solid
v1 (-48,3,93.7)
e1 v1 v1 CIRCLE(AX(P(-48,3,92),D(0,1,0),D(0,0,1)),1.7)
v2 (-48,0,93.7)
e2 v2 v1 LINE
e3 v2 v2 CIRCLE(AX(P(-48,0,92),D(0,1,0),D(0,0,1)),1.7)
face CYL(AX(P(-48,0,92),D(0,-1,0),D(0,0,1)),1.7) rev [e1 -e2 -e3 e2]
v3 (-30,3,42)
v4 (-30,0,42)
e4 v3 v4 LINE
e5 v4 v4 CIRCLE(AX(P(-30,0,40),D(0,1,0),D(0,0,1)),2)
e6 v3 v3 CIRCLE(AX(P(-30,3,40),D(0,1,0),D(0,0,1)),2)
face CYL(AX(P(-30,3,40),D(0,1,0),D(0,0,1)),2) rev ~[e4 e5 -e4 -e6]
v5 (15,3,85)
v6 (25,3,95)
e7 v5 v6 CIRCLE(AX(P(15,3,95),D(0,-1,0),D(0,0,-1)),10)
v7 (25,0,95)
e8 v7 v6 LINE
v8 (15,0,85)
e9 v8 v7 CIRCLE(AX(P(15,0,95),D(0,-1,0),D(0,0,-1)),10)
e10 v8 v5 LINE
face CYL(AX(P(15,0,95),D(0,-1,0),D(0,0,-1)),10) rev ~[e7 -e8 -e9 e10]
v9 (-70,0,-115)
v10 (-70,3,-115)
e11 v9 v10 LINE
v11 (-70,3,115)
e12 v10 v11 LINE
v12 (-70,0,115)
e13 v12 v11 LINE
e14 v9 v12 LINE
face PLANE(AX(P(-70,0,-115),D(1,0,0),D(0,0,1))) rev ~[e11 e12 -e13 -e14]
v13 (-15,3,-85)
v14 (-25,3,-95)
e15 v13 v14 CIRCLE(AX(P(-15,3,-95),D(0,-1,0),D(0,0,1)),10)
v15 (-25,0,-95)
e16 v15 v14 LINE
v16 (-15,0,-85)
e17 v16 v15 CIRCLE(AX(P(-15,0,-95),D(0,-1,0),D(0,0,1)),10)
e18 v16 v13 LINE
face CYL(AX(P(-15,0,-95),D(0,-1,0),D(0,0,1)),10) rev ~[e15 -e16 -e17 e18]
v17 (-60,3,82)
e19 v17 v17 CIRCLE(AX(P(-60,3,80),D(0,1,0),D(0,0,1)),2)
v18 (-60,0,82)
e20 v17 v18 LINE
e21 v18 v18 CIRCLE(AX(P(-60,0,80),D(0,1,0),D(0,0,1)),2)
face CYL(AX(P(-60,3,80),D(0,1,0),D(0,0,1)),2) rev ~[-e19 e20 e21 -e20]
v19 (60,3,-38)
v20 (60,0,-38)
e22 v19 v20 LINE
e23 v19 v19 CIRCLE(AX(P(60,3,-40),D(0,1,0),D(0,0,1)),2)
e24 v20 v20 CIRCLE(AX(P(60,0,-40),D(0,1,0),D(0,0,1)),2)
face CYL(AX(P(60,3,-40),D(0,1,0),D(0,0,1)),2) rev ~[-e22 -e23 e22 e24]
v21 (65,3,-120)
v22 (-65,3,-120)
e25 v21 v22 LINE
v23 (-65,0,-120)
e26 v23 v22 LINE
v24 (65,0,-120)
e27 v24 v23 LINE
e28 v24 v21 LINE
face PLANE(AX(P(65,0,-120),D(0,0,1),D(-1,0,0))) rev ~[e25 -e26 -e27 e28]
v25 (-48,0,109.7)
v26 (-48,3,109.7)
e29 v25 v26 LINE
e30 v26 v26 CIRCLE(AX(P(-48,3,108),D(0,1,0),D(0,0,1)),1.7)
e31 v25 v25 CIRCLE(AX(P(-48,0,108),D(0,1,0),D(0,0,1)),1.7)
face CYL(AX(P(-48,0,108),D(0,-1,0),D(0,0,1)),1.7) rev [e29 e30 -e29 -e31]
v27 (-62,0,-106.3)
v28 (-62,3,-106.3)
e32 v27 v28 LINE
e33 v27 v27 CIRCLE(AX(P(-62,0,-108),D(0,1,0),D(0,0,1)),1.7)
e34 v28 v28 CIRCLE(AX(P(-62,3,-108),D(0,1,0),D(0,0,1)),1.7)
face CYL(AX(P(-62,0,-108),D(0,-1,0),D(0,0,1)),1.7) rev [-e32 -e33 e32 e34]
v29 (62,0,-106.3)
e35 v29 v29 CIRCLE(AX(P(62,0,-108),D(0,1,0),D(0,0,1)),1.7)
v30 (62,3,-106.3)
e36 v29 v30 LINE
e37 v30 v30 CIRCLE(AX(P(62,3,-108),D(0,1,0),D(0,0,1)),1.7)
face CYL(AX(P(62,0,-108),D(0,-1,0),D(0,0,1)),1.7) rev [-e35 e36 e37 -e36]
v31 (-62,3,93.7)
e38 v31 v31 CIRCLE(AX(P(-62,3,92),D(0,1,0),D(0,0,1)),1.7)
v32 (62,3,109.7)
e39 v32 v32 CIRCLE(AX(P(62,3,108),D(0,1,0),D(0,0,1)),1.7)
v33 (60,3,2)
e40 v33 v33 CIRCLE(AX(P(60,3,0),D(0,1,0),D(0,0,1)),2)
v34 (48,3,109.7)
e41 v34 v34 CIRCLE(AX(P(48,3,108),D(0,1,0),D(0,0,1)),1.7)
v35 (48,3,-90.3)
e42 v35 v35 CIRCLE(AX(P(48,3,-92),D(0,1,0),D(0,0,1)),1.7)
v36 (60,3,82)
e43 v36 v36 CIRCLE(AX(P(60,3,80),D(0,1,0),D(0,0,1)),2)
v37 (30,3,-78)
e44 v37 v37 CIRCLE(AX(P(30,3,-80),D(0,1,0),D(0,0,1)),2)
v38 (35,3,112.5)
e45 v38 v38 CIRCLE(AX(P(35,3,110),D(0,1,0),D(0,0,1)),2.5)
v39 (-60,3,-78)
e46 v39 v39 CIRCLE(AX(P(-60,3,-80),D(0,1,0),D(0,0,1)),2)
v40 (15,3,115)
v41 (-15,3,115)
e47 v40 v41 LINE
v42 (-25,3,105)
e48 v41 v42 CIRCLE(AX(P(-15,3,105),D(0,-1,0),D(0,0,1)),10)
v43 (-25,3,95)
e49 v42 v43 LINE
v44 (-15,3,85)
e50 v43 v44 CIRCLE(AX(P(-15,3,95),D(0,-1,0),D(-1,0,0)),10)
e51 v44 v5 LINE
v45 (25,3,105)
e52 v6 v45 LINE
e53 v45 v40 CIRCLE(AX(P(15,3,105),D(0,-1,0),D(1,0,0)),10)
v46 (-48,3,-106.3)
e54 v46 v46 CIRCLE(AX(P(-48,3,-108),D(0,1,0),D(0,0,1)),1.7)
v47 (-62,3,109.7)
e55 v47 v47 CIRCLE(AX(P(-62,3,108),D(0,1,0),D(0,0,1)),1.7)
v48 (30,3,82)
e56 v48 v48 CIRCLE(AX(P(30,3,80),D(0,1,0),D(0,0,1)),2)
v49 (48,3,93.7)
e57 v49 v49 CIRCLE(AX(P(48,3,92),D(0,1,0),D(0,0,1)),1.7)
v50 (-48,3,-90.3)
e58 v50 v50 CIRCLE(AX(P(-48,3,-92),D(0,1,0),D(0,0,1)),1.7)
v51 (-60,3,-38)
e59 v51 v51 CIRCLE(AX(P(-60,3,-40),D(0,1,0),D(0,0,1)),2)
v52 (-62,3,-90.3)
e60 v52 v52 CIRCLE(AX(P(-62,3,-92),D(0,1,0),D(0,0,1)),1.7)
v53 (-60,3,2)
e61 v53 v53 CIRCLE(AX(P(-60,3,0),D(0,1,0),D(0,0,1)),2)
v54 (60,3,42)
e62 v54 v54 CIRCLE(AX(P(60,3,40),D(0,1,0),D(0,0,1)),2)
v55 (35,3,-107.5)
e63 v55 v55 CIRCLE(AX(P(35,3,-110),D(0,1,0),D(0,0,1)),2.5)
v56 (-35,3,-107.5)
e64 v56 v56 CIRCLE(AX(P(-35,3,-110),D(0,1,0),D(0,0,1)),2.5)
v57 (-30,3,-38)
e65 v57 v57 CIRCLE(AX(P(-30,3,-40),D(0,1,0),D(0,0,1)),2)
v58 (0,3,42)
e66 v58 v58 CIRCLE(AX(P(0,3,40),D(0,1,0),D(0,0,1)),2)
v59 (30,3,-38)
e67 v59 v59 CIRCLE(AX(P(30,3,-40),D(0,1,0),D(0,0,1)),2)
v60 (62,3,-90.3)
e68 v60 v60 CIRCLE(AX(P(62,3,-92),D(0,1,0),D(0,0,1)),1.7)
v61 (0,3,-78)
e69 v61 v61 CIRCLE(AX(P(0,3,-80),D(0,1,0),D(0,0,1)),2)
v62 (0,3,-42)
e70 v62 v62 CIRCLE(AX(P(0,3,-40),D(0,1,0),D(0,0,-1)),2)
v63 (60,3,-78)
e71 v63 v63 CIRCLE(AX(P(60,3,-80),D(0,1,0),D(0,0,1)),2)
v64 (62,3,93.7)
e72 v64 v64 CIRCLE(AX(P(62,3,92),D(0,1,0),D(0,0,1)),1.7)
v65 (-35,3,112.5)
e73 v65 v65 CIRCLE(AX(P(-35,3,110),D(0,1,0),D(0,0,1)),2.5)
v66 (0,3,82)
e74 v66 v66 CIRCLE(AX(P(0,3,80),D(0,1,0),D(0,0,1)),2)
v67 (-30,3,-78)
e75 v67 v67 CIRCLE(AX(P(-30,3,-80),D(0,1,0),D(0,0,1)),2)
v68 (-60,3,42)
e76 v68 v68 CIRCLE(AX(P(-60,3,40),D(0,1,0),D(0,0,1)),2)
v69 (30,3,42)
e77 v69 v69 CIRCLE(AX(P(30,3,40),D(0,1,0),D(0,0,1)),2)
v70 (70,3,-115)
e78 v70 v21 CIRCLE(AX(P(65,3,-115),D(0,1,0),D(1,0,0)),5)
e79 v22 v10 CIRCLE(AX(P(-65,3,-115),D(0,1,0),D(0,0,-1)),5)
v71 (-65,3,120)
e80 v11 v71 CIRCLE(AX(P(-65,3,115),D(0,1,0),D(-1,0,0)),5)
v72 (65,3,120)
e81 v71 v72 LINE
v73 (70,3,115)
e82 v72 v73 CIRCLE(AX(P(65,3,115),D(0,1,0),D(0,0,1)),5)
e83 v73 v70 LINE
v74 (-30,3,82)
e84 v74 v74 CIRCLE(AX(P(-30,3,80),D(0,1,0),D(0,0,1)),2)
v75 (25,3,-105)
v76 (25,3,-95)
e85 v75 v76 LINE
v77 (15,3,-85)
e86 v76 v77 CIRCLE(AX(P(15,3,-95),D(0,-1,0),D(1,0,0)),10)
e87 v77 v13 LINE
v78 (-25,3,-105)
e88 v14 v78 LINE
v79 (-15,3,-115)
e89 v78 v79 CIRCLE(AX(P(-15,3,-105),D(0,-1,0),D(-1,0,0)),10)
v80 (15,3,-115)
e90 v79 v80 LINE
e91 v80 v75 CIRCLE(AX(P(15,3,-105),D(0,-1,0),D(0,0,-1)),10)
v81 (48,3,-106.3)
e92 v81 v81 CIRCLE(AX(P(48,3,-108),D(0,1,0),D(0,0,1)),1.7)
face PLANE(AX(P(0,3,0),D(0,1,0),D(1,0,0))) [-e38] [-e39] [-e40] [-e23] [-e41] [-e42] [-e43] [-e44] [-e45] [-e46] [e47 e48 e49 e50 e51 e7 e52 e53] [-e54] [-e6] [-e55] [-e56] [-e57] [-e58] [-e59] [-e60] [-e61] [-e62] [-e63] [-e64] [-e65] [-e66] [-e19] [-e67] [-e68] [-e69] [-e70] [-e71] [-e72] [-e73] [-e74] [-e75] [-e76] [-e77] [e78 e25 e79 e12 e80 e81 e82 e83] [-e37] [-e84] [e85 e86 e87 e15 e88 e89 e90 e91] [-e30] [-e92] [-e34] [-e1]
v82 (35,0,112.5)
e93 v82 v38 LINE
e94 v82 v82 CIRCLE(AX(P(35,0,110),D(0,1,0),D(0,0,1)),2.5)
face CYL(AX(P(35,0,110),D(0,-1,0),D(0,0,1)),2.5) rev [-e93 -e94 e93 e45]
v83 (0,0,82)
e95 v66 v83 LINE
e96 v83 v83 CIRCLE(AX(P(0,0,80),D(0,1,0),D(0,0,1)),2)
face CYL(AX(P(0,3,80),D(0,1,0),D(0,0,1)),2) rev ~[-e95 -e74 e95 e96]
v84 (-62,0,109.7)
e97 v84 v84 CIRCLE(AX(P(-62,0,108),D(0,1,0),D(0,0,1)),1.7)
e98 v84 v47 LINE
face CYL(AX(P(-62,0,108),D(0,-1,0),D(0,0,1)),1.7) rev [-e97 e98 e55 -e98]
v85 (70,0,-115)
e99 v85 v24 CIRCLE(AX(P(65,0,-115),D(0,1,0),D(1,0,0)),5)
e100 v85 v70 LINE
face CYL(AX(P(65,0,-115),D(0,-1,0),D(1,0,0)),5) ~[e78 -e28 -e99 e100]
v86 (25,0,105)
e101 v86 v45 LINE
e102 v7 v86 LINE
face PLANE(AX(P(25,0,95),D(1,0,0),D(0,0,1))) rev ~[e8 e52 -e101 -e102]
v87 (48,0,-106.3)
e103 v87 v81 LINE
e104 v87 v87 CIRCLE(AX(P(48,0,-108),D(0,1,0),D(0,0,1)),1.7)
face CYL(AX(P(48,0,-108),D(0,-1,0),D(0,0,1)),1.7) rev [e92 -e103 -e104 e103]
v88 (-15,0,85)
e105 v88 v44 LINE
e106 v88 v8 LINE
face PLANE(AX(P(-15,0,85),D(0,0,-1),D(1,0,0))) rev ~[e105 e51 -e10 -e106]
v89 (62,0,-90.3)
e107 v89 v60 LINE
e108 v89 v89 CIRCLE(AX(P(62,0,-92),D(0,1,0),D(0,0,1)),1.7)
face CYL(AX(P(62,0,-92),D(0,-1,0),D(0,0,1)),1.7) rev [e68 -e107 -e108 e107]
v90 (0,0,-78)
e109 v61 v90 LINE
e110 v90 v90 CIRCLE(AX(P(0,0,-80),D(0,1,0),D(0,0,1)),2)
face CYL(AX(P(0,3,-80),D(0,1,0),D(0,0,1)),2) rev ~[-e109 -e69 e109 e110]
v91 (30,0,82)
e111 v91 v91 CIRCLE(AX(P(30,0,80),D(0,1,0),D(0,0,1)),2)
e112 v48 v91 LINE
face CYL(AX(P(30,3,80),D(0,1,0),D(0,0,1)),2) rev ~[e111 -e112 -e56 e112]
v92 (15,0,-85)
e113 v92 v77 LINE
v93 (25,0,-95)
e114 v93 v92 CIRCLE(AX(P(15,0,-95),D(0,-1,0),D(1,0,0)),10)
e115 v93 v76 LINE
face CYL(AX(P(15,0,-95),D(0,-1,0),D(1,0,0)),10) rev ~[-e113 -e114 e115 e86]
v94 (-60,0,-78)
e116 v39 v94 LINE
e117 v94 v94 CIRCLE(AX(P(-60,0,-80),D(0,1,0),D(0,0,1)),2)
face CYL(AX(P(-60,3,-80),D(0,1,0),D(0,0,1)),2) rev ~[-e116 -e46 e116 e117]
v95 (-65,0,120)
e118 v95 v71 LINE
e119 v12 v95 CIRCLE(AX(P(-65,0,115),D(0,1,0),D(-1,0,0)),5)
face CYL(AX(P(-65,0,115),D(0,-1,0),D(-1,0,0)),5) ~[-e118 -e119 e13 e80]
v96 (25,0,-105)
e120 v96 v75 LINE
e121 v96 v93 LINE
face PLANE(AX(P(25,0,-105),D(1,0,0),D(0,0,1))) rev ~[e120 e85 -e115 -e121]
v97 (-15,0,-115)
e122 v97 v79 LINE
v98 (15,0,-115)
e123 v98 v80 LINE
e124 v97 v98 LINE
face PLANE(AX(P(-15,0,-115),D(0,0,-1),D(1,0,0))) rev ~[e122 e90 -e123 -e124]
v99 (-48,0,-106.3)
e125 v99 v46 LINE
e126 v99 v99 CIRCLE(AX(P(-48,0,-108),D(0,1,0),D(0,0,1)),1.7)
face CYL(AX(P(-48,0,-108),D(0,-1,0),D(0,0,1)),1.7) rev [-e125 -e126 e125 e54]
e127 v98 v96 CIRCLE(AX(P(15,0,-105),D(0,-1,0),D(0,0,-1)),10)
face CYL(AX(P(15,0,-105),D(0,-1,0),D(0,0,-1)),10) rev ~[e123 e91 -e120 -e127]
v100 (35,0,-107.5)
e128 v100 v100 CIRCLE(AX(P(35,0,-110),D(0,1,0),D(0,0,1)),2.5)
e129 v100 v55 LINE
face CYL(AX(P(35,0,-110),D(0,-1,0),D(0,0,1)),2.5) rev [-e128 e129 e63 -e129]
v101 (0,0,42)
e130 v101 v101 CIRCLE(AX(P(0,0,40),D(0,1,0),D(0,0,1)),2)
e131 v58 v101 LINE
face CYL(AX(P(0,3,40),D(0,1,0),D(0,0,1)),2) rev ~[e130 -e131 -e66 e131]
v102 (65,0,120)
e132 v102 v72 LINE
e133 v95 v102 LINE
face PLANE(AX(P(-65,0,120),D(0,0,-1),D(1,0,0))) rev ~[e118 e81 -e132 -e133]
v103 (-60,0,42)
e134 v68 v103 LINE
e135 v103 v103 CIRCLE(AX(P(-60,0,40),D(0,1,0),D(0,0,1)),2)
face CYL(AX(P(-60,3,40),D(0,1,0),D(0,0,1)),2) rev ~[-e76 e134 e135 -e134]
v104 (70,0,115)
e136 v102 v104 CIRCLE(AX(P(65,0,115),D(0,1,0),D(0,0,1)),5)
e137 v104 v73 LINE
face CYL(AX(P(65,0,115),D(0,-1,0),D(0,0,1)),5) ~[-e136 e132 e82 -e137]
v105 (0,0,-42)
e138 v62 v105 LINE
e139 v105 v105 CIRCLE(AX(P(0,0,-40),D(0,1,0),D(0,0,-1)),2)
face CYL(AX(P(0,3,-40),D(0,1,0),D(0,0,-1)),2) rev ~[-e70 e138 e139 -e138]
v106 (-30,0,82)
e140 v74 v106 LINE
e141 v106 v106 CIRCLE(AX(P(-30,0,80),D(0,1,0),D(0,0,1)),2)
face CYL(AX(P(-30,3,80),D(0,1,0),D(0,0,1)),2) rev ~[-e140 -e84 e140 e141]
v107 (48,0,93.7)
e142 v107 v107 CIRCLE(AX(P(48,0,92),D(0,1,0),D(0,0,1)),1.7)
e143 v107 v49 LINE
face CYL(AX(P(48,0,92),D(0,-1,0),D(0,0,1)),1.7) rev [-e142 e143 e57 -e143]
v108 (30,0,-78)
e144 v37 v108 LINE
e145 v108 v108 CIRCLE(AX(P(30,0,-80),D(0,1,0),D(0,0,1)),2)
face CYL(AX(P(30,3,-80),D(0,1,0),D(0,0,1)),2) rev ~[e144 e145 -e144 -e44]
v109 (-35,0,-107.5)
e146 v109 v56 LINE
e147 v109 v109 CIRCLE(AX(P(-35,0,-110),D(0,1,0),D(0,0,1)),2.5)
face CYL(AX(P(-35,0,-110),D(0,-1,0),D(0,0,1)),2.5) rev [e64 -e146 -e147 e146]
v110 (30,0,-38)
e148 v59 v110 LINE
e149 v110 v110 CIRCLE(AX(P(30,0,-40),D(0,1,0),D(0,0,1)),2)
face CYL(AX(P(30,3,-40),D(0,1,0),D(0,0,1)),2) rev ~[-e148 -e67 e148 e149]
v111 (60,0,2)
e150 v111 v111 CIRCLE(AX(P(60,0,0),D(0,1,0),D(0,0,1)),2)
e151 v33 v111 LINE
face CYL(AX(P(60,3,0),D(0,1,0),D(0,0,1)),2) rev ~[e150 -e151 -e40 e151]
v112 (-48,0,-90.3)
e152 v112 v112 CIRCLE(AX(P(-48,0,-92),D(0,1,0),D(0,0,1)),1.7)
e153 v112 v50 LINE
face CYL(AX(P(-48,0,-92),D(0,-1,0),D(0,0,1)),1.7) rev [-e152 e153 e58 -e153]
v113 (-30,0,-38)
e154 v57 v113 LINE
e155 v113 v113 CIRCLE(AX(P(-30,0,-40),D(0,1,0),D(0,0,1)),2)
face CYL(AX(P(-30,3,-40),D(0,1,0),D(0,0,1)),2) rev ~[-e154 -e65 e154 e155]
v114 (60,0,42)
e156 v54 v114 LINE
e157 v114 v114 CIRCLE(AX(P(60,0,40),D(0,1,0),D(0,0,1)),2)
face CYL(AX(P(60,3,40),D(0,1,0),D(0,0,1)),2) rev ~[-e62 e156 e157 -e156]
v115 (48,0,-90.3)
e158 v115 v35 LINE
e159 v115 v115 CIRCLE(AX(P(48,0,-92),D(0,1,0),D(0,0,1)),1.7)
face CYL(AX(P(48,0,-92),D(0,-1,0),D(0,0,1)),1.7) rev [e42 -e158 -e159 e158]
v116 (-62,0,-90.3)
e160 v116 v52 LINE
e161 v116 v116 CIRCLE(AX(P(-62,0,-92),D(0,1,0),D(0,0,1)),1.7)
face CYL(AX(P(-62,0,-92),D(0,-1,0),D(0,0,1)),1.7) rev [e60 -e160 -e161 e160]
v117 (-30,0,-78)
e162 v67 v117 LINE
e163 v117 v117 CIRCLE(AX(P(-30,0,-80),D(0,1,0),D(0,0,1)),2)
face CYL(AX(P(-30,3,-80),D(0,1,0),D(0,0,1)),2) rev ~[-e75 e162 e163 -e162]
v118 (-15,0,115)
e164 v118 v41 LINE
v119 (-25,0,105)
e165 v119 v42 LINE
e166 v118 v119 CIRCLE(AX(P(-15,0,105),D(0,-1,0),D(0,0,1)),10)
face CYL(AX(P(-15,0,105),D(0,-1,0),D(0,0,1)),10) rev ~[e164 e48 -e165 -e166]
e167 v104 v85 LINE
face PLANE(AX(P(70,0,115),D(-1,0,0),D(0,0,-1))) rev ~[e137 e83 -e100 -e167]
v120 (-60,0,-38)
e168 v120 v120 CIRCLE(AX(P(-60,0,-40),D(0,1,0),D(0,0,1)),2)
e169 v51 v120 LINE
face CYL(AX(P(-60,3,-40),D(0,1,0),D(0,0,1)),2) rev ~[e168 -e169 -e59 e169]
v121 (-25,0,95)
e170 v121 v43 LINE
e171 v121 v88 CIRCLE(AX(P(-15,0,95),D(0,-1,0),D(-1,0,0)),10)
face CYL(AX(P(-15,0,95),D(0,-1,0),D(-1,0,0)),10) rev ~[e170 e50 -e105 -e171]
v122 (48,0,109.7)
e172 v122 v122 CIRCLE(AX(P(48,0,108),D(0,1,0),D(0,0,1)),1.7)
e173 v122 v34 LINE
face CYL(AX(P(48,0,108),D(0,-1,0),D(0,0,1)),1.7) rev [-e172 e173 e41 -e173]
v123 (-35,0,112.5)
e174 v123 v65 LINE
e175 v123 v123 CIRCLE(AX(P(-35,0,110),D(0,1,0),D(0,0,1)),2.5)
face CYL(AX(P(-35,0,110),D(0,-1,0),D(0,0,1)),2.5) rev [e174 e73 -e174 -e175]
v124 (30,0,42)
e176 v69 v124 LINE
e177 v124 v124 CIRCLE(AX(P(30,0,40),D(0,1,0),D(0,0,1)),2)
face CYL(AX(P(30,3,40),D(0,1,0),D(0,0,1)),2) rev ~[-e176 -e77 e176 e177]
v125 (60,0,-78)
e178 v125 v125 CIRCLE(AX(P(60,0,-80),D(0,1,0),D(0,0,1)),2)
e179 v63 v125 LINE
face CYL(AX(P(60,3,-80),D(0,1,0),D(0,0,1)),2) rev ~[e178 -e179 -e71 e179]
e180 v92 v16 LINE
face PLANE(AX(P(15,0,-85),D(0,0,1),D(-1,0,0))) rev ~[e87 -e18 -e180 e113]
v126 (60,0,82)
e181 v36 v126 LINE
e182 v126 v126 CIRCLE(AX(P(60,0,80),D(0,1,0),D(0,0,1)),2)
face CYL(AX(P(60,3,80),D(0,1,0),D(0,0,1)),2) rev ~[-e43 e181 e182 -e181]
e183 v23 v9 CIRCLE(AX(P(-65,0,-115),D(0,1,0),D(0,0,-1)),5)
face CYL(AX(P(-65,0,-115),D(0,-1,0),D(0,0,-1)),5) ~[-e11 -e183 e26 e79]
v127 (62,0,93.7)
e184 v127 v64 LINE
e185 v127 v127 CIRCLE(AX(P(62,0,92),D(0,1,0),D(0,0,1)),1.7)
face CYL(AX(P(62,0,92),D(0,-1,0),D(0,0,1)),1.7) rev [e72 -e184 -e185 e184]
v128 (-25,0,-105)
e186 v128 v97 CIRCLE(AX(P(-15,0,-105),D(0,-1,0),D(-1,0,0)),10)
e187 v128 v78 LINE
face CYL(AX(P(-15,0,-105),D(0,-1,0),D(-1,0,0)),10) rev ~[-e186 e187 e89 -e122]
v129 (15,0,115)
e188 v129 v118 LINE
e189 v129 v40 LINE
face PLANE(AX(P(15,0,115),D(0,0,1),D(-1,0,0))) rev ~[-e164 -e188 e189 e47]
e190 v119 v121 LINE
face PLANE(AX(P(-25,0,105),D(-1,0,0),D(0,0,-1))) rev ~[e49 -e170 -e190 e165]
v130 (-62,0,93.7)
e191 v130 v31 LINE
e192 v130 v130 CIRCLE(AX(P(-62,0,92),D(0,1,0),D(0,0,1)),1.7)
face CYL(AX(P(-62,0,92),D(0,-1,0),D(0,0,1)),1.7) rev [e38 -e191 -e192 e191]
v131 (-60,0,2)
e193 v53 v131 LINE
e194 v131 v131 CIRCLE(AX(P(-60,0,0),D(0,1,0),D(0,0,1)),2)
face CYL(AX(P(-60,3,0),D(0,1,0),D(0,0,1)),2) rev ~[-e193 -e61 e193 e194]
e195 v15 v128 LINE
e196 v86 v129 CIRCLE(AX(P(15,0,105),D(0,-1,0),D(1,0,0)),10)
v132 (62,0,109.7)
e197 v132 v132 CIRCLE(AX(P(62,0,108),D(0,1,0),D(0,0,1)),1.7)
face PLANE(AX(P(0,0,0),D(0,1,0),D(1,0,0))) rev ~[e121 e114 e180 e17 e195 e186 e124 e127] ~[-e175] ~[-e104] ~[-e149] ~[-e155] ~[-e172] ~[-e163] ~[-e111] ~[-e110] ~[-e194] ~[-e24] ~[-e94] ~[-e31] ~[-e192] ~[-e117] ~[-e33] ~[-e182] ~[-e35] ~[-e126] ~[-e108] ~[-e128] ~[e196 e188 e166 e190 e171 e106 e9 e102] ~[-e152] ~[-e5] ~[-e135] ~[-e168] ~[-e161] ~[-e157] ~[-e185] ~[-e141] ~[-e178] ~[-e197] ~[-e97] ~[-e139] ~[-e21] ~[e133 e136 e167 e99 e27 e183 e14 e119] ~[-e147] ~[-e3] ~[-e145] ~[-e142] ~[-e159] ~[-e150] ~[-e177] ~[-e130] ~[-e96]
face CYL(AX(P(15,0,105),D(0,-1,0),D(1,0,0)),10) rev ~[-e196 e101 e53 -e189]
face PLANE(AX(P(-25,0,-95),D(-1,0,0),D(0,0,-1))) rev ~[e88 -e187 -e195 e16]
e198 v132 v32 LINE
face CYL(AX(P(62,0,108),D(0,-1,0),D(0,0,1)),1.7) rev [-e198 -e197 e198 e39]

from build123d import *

# Parameters (mm, degrees)
SKETCH_1_R          = 1.7
SKETCH_1_R_2        = 2.5
EXTRUDE_1_DEPTH     = 3
SKETCH_2_R          = 2
CUT_EXTRUDE_1_DEPTH = 3


with BuildPart() as part:
    # 草图1 → 凸台-拉伸1 (new body)
    with BuildSketch(Plane(origin=(0, 0, 0), x_dir=(1, 0, 0), z_dir=(0, 1, 0))):
        with BuildLine():
            ThreePointArc((-65, 120), (-68.535533906, 118.535533906), (-70, 115))
            Line((-70, 115), (-70, -115))
            ThreePointArc((-70, -115), (-68.535533906, -118.535533906), (-65, -120))
            Line((-65, -120), (65, -120))
            ThreePointArc((65, -120), (68.535533906, -118.535533906), (70, -115))
            Line((70, -115), (70, 115))
            ThreePointArc((70, 115), (68.535533906, 118.535533906), (65, 120))
            Line((65, 120), (-65, 120))
        make_face()
        with BuildLine():
            Line((-25, 95), (-25, 105))
            ThreePointArc((-25, 105), (-22.071067812, 112.071067812), (-15, 115))
            Line((-15, 115), (15, 115))
            ThreePointArc((15, 115), (22.071067812, 112.071067812), (25, 105))
            Line((25, 105), (25, 95))
            ThreePointArc((25, 95), (22.071067812, 87.928932188), (15, 85))
            Line((15, 85), (-15, 85))
            ThreePointArc((-15, 85), (-22.071067812, 87.928932188), (-25, 95))
        make_face(mode=Mode.SUBTRACT)
        with Locations(Location((-48, 92, 0), (0, 0, 270))):
            Circle(SKETCH_1_R, mode=Mode.SUBTRACT)
        with Locations(Location((-62, 92, 0), (0, 0, 270))):
            Circle(SKETCH_1_R, mode=Mode.SUBTRACT)
        with Locations(Location((-35, 110, 0), (0, 0, 270))):
            Circle(SKETCH_1_R_2, mode=Mode.SUBTRACT)
        with Locations(Location((-48, 108, 0), (0, 0, 270))):
            Circle(SKETCH_1_R, mode=Mode.SUBTRACT)
        with Locations(Location((-62, 108, 0), (0, 0, 270))):
            Circle(SKETCH_1_R, mode=Mode.SUBTRACT)
        with Locations(Location((35, 110, 0), (0, 0, 270))):
            Circle(SKETCH_1_R_2, mode=Mode.SUBTRACT)
        with Locations(Location((62, 108, 0), (0, 0, 270))):
            Circle(SKETCH_1_R, mode=Mode.SUBTRACT)
        with Locations(Location((62, 92, 0), (0, 0, 270))):
            Circle(SKETCH_1_R, mode=Mode.SUBTRACT)
        with Locations(Location((48, 108, 0), (0, 0, 270))):
            Circle(SKETCH_1_R, mode=Mode.SUBTRACT)
        with Locations(Location((-62, -108, 0), (0, 0, 270))):
            Circle(SKETCH_1_R, mode=Mode.SUBTRACT)
        with Locations(Location((-62, -92, 0), (0, 0, 270))):
            Circle(SKETCH_1_R, mode=Mode.SUBTRACT)
        with Locations(Location((-48, -108, 0), (0, 0, 270))):
            Circle(SKETCH_1_R, mode=Mode.SUBTRACT)
        with Locations(Location((-35, -110, 0), (0, 0, 270))):
            Circle(SKETCH_1_R_2, mode=Mode.SUBTRACT)
        with Locations(Location((-48, -92, 0), (0, 0, 270))):
            Circle(SKETCH_1_R, mode=Mode.SUBTRACT)
        with BuildLine():
            ThreePointArc((15, -85), (22.071067812, -87.928932188), (25, -95))
            Line((25, -95), (25, -105))
            ThreePointArc((25, -105), (22.071067812, -112.071067812), (15, -115))
            Line((15, -115), (-15, -115))
            ThreePointArc((-15, -115), (-22.071067812, -112.071067812), (-25, -105))
            Line((-25, -105), (-25, -95))
            ThreePointArc((-25, -95), (-22.071067812, -87.928932188), (-15, -85))
            Line((-15, -85), (15, -85))
        make_face(mode=Mode.SUBTRACT)
        with Locations(Location((35, -110, 0), (0, 0, 270))):
            Circle(SKETCH_1_R_2, mode=Mode.SUBTRACT)
        with Locations(Location((48, -108, 0), (0, 0, 270))):
            Circle(SKETCH_1_R, mode=Mode.SUBTRACT)
        with Locations(Location((48, -92, 0), (0, 0, 270))):
            Circle(SKETCH_1_R, mode=Mode.SUBTRACT)
        with Locations(Location((62, -108, 0), (0, 0, 270))):
            Circle(SKETCH_1_R, mode=Mode.SUBTRACT)
        with Locations(Location((62, -92, 0), (0, 0, 270))):
            Circle(SKETCH_1_R, mode=Mode.SUBTRACT)
        with Locations(Location((48, 92, 0), (0, 0, 270))):
            Circle(SKETCH_1_R, mode=Mode.SUBTRACT)
    extrude(amount=EXTRUDE_1_DEPTH)

    # 草图2 → 切除-拉伸1 (cut)
    with BuildSketch(Plane(origin=(0, 3, 0), x_dir=(1, 0, 0), z_dir=(0, 1, 0))):
        with Locations(Location((-60, 0, 0), (0, 0, 270))):
            Circle(SKETCH_2_R)
        with Locations(Location((-60, 40, 0), (0, 0, 270))):
            Circle(SKETCH_2_R)
        with Locations(Location((-60, 80, 0), (0, 0, 270))):
            Circle(SKETCH_2_R)
        with Locations(Location((-60, -80, 0), (0, 0, 270))):
            Circle(SKETCH_2_R)
        with Locations(Location((-60, -40, 0), (0, 0, 270))):
            Circle(SKETCH_2_R)
        with Locations(Location((-30, 40, 0), (0, 0, 270))):
            Circle(SKETCH_2_R)
        with Locations(Location((-30, 80, 0), (0, 0, 270))):
            Circle(SKETCH_2_R)
        with Locations(Location((-30, -40, 0), (0, 0, 270))):
            Circle(SKETCH_2_R)
        with Locations(Location((-30, -80, 0), (0, 0, 270))):
            Circle(SKETCH_2_R)
        with Locations(Location((30, -80, 0), (0, 0, 270))):
            Circle(SKETCH_2_R)
        with Locations(Location((30, -40, 0), (0, 0, 270))):
            Circle(SKETCH_2_R)
        with Locations(Location((30, 80, 0), (0, 0, 270))):
            Circle(SKETCH_2_R)
        with Locations(Location((30, 40, 0), (0, 0, 270))):
            Circle(SKETCH_2_R)
        with Locations(Location((60, -40, 0), (0, 0, 270))):
            Circle(SKETCH_2_R)
        with Locations(Location((60, -80, 0), (0, 0, 270))):
            Circle(SKETCH_2_R)
        with Locations(Location((60, 80, 0), (0, 0, 270))):
            Circle(SKETCH_2_R)
        with Locations(Location((60, 40, 0), (0, 0, 270))):
            Circle(SKETCH_2_R)
        with Locations(Location((60, 0, 0), (0, 0, 270))):
            Circle(SKETCH_2_R)
        with Locations(Location((0, -40, 0), (0, 0, 270))):
            Circle(SKETCH_2_R)
        with Locations(Location((0, -80, 0), (0, 0, 270))):
            Circle(SKETCH_2_R)
        with Locations(Location((0, 80, 0), (0, 0, 270))):
            Circle(SKETCH_2_R)
        with Locations(Location((0, 40, 0), (0, 0, 90))):
            Circle(SKETCH_2_R)
    extrude(amount=-CUT_EXTRUDE_1_DEPTH, mode=Mode.SUBTRACT)


solid = part.part
